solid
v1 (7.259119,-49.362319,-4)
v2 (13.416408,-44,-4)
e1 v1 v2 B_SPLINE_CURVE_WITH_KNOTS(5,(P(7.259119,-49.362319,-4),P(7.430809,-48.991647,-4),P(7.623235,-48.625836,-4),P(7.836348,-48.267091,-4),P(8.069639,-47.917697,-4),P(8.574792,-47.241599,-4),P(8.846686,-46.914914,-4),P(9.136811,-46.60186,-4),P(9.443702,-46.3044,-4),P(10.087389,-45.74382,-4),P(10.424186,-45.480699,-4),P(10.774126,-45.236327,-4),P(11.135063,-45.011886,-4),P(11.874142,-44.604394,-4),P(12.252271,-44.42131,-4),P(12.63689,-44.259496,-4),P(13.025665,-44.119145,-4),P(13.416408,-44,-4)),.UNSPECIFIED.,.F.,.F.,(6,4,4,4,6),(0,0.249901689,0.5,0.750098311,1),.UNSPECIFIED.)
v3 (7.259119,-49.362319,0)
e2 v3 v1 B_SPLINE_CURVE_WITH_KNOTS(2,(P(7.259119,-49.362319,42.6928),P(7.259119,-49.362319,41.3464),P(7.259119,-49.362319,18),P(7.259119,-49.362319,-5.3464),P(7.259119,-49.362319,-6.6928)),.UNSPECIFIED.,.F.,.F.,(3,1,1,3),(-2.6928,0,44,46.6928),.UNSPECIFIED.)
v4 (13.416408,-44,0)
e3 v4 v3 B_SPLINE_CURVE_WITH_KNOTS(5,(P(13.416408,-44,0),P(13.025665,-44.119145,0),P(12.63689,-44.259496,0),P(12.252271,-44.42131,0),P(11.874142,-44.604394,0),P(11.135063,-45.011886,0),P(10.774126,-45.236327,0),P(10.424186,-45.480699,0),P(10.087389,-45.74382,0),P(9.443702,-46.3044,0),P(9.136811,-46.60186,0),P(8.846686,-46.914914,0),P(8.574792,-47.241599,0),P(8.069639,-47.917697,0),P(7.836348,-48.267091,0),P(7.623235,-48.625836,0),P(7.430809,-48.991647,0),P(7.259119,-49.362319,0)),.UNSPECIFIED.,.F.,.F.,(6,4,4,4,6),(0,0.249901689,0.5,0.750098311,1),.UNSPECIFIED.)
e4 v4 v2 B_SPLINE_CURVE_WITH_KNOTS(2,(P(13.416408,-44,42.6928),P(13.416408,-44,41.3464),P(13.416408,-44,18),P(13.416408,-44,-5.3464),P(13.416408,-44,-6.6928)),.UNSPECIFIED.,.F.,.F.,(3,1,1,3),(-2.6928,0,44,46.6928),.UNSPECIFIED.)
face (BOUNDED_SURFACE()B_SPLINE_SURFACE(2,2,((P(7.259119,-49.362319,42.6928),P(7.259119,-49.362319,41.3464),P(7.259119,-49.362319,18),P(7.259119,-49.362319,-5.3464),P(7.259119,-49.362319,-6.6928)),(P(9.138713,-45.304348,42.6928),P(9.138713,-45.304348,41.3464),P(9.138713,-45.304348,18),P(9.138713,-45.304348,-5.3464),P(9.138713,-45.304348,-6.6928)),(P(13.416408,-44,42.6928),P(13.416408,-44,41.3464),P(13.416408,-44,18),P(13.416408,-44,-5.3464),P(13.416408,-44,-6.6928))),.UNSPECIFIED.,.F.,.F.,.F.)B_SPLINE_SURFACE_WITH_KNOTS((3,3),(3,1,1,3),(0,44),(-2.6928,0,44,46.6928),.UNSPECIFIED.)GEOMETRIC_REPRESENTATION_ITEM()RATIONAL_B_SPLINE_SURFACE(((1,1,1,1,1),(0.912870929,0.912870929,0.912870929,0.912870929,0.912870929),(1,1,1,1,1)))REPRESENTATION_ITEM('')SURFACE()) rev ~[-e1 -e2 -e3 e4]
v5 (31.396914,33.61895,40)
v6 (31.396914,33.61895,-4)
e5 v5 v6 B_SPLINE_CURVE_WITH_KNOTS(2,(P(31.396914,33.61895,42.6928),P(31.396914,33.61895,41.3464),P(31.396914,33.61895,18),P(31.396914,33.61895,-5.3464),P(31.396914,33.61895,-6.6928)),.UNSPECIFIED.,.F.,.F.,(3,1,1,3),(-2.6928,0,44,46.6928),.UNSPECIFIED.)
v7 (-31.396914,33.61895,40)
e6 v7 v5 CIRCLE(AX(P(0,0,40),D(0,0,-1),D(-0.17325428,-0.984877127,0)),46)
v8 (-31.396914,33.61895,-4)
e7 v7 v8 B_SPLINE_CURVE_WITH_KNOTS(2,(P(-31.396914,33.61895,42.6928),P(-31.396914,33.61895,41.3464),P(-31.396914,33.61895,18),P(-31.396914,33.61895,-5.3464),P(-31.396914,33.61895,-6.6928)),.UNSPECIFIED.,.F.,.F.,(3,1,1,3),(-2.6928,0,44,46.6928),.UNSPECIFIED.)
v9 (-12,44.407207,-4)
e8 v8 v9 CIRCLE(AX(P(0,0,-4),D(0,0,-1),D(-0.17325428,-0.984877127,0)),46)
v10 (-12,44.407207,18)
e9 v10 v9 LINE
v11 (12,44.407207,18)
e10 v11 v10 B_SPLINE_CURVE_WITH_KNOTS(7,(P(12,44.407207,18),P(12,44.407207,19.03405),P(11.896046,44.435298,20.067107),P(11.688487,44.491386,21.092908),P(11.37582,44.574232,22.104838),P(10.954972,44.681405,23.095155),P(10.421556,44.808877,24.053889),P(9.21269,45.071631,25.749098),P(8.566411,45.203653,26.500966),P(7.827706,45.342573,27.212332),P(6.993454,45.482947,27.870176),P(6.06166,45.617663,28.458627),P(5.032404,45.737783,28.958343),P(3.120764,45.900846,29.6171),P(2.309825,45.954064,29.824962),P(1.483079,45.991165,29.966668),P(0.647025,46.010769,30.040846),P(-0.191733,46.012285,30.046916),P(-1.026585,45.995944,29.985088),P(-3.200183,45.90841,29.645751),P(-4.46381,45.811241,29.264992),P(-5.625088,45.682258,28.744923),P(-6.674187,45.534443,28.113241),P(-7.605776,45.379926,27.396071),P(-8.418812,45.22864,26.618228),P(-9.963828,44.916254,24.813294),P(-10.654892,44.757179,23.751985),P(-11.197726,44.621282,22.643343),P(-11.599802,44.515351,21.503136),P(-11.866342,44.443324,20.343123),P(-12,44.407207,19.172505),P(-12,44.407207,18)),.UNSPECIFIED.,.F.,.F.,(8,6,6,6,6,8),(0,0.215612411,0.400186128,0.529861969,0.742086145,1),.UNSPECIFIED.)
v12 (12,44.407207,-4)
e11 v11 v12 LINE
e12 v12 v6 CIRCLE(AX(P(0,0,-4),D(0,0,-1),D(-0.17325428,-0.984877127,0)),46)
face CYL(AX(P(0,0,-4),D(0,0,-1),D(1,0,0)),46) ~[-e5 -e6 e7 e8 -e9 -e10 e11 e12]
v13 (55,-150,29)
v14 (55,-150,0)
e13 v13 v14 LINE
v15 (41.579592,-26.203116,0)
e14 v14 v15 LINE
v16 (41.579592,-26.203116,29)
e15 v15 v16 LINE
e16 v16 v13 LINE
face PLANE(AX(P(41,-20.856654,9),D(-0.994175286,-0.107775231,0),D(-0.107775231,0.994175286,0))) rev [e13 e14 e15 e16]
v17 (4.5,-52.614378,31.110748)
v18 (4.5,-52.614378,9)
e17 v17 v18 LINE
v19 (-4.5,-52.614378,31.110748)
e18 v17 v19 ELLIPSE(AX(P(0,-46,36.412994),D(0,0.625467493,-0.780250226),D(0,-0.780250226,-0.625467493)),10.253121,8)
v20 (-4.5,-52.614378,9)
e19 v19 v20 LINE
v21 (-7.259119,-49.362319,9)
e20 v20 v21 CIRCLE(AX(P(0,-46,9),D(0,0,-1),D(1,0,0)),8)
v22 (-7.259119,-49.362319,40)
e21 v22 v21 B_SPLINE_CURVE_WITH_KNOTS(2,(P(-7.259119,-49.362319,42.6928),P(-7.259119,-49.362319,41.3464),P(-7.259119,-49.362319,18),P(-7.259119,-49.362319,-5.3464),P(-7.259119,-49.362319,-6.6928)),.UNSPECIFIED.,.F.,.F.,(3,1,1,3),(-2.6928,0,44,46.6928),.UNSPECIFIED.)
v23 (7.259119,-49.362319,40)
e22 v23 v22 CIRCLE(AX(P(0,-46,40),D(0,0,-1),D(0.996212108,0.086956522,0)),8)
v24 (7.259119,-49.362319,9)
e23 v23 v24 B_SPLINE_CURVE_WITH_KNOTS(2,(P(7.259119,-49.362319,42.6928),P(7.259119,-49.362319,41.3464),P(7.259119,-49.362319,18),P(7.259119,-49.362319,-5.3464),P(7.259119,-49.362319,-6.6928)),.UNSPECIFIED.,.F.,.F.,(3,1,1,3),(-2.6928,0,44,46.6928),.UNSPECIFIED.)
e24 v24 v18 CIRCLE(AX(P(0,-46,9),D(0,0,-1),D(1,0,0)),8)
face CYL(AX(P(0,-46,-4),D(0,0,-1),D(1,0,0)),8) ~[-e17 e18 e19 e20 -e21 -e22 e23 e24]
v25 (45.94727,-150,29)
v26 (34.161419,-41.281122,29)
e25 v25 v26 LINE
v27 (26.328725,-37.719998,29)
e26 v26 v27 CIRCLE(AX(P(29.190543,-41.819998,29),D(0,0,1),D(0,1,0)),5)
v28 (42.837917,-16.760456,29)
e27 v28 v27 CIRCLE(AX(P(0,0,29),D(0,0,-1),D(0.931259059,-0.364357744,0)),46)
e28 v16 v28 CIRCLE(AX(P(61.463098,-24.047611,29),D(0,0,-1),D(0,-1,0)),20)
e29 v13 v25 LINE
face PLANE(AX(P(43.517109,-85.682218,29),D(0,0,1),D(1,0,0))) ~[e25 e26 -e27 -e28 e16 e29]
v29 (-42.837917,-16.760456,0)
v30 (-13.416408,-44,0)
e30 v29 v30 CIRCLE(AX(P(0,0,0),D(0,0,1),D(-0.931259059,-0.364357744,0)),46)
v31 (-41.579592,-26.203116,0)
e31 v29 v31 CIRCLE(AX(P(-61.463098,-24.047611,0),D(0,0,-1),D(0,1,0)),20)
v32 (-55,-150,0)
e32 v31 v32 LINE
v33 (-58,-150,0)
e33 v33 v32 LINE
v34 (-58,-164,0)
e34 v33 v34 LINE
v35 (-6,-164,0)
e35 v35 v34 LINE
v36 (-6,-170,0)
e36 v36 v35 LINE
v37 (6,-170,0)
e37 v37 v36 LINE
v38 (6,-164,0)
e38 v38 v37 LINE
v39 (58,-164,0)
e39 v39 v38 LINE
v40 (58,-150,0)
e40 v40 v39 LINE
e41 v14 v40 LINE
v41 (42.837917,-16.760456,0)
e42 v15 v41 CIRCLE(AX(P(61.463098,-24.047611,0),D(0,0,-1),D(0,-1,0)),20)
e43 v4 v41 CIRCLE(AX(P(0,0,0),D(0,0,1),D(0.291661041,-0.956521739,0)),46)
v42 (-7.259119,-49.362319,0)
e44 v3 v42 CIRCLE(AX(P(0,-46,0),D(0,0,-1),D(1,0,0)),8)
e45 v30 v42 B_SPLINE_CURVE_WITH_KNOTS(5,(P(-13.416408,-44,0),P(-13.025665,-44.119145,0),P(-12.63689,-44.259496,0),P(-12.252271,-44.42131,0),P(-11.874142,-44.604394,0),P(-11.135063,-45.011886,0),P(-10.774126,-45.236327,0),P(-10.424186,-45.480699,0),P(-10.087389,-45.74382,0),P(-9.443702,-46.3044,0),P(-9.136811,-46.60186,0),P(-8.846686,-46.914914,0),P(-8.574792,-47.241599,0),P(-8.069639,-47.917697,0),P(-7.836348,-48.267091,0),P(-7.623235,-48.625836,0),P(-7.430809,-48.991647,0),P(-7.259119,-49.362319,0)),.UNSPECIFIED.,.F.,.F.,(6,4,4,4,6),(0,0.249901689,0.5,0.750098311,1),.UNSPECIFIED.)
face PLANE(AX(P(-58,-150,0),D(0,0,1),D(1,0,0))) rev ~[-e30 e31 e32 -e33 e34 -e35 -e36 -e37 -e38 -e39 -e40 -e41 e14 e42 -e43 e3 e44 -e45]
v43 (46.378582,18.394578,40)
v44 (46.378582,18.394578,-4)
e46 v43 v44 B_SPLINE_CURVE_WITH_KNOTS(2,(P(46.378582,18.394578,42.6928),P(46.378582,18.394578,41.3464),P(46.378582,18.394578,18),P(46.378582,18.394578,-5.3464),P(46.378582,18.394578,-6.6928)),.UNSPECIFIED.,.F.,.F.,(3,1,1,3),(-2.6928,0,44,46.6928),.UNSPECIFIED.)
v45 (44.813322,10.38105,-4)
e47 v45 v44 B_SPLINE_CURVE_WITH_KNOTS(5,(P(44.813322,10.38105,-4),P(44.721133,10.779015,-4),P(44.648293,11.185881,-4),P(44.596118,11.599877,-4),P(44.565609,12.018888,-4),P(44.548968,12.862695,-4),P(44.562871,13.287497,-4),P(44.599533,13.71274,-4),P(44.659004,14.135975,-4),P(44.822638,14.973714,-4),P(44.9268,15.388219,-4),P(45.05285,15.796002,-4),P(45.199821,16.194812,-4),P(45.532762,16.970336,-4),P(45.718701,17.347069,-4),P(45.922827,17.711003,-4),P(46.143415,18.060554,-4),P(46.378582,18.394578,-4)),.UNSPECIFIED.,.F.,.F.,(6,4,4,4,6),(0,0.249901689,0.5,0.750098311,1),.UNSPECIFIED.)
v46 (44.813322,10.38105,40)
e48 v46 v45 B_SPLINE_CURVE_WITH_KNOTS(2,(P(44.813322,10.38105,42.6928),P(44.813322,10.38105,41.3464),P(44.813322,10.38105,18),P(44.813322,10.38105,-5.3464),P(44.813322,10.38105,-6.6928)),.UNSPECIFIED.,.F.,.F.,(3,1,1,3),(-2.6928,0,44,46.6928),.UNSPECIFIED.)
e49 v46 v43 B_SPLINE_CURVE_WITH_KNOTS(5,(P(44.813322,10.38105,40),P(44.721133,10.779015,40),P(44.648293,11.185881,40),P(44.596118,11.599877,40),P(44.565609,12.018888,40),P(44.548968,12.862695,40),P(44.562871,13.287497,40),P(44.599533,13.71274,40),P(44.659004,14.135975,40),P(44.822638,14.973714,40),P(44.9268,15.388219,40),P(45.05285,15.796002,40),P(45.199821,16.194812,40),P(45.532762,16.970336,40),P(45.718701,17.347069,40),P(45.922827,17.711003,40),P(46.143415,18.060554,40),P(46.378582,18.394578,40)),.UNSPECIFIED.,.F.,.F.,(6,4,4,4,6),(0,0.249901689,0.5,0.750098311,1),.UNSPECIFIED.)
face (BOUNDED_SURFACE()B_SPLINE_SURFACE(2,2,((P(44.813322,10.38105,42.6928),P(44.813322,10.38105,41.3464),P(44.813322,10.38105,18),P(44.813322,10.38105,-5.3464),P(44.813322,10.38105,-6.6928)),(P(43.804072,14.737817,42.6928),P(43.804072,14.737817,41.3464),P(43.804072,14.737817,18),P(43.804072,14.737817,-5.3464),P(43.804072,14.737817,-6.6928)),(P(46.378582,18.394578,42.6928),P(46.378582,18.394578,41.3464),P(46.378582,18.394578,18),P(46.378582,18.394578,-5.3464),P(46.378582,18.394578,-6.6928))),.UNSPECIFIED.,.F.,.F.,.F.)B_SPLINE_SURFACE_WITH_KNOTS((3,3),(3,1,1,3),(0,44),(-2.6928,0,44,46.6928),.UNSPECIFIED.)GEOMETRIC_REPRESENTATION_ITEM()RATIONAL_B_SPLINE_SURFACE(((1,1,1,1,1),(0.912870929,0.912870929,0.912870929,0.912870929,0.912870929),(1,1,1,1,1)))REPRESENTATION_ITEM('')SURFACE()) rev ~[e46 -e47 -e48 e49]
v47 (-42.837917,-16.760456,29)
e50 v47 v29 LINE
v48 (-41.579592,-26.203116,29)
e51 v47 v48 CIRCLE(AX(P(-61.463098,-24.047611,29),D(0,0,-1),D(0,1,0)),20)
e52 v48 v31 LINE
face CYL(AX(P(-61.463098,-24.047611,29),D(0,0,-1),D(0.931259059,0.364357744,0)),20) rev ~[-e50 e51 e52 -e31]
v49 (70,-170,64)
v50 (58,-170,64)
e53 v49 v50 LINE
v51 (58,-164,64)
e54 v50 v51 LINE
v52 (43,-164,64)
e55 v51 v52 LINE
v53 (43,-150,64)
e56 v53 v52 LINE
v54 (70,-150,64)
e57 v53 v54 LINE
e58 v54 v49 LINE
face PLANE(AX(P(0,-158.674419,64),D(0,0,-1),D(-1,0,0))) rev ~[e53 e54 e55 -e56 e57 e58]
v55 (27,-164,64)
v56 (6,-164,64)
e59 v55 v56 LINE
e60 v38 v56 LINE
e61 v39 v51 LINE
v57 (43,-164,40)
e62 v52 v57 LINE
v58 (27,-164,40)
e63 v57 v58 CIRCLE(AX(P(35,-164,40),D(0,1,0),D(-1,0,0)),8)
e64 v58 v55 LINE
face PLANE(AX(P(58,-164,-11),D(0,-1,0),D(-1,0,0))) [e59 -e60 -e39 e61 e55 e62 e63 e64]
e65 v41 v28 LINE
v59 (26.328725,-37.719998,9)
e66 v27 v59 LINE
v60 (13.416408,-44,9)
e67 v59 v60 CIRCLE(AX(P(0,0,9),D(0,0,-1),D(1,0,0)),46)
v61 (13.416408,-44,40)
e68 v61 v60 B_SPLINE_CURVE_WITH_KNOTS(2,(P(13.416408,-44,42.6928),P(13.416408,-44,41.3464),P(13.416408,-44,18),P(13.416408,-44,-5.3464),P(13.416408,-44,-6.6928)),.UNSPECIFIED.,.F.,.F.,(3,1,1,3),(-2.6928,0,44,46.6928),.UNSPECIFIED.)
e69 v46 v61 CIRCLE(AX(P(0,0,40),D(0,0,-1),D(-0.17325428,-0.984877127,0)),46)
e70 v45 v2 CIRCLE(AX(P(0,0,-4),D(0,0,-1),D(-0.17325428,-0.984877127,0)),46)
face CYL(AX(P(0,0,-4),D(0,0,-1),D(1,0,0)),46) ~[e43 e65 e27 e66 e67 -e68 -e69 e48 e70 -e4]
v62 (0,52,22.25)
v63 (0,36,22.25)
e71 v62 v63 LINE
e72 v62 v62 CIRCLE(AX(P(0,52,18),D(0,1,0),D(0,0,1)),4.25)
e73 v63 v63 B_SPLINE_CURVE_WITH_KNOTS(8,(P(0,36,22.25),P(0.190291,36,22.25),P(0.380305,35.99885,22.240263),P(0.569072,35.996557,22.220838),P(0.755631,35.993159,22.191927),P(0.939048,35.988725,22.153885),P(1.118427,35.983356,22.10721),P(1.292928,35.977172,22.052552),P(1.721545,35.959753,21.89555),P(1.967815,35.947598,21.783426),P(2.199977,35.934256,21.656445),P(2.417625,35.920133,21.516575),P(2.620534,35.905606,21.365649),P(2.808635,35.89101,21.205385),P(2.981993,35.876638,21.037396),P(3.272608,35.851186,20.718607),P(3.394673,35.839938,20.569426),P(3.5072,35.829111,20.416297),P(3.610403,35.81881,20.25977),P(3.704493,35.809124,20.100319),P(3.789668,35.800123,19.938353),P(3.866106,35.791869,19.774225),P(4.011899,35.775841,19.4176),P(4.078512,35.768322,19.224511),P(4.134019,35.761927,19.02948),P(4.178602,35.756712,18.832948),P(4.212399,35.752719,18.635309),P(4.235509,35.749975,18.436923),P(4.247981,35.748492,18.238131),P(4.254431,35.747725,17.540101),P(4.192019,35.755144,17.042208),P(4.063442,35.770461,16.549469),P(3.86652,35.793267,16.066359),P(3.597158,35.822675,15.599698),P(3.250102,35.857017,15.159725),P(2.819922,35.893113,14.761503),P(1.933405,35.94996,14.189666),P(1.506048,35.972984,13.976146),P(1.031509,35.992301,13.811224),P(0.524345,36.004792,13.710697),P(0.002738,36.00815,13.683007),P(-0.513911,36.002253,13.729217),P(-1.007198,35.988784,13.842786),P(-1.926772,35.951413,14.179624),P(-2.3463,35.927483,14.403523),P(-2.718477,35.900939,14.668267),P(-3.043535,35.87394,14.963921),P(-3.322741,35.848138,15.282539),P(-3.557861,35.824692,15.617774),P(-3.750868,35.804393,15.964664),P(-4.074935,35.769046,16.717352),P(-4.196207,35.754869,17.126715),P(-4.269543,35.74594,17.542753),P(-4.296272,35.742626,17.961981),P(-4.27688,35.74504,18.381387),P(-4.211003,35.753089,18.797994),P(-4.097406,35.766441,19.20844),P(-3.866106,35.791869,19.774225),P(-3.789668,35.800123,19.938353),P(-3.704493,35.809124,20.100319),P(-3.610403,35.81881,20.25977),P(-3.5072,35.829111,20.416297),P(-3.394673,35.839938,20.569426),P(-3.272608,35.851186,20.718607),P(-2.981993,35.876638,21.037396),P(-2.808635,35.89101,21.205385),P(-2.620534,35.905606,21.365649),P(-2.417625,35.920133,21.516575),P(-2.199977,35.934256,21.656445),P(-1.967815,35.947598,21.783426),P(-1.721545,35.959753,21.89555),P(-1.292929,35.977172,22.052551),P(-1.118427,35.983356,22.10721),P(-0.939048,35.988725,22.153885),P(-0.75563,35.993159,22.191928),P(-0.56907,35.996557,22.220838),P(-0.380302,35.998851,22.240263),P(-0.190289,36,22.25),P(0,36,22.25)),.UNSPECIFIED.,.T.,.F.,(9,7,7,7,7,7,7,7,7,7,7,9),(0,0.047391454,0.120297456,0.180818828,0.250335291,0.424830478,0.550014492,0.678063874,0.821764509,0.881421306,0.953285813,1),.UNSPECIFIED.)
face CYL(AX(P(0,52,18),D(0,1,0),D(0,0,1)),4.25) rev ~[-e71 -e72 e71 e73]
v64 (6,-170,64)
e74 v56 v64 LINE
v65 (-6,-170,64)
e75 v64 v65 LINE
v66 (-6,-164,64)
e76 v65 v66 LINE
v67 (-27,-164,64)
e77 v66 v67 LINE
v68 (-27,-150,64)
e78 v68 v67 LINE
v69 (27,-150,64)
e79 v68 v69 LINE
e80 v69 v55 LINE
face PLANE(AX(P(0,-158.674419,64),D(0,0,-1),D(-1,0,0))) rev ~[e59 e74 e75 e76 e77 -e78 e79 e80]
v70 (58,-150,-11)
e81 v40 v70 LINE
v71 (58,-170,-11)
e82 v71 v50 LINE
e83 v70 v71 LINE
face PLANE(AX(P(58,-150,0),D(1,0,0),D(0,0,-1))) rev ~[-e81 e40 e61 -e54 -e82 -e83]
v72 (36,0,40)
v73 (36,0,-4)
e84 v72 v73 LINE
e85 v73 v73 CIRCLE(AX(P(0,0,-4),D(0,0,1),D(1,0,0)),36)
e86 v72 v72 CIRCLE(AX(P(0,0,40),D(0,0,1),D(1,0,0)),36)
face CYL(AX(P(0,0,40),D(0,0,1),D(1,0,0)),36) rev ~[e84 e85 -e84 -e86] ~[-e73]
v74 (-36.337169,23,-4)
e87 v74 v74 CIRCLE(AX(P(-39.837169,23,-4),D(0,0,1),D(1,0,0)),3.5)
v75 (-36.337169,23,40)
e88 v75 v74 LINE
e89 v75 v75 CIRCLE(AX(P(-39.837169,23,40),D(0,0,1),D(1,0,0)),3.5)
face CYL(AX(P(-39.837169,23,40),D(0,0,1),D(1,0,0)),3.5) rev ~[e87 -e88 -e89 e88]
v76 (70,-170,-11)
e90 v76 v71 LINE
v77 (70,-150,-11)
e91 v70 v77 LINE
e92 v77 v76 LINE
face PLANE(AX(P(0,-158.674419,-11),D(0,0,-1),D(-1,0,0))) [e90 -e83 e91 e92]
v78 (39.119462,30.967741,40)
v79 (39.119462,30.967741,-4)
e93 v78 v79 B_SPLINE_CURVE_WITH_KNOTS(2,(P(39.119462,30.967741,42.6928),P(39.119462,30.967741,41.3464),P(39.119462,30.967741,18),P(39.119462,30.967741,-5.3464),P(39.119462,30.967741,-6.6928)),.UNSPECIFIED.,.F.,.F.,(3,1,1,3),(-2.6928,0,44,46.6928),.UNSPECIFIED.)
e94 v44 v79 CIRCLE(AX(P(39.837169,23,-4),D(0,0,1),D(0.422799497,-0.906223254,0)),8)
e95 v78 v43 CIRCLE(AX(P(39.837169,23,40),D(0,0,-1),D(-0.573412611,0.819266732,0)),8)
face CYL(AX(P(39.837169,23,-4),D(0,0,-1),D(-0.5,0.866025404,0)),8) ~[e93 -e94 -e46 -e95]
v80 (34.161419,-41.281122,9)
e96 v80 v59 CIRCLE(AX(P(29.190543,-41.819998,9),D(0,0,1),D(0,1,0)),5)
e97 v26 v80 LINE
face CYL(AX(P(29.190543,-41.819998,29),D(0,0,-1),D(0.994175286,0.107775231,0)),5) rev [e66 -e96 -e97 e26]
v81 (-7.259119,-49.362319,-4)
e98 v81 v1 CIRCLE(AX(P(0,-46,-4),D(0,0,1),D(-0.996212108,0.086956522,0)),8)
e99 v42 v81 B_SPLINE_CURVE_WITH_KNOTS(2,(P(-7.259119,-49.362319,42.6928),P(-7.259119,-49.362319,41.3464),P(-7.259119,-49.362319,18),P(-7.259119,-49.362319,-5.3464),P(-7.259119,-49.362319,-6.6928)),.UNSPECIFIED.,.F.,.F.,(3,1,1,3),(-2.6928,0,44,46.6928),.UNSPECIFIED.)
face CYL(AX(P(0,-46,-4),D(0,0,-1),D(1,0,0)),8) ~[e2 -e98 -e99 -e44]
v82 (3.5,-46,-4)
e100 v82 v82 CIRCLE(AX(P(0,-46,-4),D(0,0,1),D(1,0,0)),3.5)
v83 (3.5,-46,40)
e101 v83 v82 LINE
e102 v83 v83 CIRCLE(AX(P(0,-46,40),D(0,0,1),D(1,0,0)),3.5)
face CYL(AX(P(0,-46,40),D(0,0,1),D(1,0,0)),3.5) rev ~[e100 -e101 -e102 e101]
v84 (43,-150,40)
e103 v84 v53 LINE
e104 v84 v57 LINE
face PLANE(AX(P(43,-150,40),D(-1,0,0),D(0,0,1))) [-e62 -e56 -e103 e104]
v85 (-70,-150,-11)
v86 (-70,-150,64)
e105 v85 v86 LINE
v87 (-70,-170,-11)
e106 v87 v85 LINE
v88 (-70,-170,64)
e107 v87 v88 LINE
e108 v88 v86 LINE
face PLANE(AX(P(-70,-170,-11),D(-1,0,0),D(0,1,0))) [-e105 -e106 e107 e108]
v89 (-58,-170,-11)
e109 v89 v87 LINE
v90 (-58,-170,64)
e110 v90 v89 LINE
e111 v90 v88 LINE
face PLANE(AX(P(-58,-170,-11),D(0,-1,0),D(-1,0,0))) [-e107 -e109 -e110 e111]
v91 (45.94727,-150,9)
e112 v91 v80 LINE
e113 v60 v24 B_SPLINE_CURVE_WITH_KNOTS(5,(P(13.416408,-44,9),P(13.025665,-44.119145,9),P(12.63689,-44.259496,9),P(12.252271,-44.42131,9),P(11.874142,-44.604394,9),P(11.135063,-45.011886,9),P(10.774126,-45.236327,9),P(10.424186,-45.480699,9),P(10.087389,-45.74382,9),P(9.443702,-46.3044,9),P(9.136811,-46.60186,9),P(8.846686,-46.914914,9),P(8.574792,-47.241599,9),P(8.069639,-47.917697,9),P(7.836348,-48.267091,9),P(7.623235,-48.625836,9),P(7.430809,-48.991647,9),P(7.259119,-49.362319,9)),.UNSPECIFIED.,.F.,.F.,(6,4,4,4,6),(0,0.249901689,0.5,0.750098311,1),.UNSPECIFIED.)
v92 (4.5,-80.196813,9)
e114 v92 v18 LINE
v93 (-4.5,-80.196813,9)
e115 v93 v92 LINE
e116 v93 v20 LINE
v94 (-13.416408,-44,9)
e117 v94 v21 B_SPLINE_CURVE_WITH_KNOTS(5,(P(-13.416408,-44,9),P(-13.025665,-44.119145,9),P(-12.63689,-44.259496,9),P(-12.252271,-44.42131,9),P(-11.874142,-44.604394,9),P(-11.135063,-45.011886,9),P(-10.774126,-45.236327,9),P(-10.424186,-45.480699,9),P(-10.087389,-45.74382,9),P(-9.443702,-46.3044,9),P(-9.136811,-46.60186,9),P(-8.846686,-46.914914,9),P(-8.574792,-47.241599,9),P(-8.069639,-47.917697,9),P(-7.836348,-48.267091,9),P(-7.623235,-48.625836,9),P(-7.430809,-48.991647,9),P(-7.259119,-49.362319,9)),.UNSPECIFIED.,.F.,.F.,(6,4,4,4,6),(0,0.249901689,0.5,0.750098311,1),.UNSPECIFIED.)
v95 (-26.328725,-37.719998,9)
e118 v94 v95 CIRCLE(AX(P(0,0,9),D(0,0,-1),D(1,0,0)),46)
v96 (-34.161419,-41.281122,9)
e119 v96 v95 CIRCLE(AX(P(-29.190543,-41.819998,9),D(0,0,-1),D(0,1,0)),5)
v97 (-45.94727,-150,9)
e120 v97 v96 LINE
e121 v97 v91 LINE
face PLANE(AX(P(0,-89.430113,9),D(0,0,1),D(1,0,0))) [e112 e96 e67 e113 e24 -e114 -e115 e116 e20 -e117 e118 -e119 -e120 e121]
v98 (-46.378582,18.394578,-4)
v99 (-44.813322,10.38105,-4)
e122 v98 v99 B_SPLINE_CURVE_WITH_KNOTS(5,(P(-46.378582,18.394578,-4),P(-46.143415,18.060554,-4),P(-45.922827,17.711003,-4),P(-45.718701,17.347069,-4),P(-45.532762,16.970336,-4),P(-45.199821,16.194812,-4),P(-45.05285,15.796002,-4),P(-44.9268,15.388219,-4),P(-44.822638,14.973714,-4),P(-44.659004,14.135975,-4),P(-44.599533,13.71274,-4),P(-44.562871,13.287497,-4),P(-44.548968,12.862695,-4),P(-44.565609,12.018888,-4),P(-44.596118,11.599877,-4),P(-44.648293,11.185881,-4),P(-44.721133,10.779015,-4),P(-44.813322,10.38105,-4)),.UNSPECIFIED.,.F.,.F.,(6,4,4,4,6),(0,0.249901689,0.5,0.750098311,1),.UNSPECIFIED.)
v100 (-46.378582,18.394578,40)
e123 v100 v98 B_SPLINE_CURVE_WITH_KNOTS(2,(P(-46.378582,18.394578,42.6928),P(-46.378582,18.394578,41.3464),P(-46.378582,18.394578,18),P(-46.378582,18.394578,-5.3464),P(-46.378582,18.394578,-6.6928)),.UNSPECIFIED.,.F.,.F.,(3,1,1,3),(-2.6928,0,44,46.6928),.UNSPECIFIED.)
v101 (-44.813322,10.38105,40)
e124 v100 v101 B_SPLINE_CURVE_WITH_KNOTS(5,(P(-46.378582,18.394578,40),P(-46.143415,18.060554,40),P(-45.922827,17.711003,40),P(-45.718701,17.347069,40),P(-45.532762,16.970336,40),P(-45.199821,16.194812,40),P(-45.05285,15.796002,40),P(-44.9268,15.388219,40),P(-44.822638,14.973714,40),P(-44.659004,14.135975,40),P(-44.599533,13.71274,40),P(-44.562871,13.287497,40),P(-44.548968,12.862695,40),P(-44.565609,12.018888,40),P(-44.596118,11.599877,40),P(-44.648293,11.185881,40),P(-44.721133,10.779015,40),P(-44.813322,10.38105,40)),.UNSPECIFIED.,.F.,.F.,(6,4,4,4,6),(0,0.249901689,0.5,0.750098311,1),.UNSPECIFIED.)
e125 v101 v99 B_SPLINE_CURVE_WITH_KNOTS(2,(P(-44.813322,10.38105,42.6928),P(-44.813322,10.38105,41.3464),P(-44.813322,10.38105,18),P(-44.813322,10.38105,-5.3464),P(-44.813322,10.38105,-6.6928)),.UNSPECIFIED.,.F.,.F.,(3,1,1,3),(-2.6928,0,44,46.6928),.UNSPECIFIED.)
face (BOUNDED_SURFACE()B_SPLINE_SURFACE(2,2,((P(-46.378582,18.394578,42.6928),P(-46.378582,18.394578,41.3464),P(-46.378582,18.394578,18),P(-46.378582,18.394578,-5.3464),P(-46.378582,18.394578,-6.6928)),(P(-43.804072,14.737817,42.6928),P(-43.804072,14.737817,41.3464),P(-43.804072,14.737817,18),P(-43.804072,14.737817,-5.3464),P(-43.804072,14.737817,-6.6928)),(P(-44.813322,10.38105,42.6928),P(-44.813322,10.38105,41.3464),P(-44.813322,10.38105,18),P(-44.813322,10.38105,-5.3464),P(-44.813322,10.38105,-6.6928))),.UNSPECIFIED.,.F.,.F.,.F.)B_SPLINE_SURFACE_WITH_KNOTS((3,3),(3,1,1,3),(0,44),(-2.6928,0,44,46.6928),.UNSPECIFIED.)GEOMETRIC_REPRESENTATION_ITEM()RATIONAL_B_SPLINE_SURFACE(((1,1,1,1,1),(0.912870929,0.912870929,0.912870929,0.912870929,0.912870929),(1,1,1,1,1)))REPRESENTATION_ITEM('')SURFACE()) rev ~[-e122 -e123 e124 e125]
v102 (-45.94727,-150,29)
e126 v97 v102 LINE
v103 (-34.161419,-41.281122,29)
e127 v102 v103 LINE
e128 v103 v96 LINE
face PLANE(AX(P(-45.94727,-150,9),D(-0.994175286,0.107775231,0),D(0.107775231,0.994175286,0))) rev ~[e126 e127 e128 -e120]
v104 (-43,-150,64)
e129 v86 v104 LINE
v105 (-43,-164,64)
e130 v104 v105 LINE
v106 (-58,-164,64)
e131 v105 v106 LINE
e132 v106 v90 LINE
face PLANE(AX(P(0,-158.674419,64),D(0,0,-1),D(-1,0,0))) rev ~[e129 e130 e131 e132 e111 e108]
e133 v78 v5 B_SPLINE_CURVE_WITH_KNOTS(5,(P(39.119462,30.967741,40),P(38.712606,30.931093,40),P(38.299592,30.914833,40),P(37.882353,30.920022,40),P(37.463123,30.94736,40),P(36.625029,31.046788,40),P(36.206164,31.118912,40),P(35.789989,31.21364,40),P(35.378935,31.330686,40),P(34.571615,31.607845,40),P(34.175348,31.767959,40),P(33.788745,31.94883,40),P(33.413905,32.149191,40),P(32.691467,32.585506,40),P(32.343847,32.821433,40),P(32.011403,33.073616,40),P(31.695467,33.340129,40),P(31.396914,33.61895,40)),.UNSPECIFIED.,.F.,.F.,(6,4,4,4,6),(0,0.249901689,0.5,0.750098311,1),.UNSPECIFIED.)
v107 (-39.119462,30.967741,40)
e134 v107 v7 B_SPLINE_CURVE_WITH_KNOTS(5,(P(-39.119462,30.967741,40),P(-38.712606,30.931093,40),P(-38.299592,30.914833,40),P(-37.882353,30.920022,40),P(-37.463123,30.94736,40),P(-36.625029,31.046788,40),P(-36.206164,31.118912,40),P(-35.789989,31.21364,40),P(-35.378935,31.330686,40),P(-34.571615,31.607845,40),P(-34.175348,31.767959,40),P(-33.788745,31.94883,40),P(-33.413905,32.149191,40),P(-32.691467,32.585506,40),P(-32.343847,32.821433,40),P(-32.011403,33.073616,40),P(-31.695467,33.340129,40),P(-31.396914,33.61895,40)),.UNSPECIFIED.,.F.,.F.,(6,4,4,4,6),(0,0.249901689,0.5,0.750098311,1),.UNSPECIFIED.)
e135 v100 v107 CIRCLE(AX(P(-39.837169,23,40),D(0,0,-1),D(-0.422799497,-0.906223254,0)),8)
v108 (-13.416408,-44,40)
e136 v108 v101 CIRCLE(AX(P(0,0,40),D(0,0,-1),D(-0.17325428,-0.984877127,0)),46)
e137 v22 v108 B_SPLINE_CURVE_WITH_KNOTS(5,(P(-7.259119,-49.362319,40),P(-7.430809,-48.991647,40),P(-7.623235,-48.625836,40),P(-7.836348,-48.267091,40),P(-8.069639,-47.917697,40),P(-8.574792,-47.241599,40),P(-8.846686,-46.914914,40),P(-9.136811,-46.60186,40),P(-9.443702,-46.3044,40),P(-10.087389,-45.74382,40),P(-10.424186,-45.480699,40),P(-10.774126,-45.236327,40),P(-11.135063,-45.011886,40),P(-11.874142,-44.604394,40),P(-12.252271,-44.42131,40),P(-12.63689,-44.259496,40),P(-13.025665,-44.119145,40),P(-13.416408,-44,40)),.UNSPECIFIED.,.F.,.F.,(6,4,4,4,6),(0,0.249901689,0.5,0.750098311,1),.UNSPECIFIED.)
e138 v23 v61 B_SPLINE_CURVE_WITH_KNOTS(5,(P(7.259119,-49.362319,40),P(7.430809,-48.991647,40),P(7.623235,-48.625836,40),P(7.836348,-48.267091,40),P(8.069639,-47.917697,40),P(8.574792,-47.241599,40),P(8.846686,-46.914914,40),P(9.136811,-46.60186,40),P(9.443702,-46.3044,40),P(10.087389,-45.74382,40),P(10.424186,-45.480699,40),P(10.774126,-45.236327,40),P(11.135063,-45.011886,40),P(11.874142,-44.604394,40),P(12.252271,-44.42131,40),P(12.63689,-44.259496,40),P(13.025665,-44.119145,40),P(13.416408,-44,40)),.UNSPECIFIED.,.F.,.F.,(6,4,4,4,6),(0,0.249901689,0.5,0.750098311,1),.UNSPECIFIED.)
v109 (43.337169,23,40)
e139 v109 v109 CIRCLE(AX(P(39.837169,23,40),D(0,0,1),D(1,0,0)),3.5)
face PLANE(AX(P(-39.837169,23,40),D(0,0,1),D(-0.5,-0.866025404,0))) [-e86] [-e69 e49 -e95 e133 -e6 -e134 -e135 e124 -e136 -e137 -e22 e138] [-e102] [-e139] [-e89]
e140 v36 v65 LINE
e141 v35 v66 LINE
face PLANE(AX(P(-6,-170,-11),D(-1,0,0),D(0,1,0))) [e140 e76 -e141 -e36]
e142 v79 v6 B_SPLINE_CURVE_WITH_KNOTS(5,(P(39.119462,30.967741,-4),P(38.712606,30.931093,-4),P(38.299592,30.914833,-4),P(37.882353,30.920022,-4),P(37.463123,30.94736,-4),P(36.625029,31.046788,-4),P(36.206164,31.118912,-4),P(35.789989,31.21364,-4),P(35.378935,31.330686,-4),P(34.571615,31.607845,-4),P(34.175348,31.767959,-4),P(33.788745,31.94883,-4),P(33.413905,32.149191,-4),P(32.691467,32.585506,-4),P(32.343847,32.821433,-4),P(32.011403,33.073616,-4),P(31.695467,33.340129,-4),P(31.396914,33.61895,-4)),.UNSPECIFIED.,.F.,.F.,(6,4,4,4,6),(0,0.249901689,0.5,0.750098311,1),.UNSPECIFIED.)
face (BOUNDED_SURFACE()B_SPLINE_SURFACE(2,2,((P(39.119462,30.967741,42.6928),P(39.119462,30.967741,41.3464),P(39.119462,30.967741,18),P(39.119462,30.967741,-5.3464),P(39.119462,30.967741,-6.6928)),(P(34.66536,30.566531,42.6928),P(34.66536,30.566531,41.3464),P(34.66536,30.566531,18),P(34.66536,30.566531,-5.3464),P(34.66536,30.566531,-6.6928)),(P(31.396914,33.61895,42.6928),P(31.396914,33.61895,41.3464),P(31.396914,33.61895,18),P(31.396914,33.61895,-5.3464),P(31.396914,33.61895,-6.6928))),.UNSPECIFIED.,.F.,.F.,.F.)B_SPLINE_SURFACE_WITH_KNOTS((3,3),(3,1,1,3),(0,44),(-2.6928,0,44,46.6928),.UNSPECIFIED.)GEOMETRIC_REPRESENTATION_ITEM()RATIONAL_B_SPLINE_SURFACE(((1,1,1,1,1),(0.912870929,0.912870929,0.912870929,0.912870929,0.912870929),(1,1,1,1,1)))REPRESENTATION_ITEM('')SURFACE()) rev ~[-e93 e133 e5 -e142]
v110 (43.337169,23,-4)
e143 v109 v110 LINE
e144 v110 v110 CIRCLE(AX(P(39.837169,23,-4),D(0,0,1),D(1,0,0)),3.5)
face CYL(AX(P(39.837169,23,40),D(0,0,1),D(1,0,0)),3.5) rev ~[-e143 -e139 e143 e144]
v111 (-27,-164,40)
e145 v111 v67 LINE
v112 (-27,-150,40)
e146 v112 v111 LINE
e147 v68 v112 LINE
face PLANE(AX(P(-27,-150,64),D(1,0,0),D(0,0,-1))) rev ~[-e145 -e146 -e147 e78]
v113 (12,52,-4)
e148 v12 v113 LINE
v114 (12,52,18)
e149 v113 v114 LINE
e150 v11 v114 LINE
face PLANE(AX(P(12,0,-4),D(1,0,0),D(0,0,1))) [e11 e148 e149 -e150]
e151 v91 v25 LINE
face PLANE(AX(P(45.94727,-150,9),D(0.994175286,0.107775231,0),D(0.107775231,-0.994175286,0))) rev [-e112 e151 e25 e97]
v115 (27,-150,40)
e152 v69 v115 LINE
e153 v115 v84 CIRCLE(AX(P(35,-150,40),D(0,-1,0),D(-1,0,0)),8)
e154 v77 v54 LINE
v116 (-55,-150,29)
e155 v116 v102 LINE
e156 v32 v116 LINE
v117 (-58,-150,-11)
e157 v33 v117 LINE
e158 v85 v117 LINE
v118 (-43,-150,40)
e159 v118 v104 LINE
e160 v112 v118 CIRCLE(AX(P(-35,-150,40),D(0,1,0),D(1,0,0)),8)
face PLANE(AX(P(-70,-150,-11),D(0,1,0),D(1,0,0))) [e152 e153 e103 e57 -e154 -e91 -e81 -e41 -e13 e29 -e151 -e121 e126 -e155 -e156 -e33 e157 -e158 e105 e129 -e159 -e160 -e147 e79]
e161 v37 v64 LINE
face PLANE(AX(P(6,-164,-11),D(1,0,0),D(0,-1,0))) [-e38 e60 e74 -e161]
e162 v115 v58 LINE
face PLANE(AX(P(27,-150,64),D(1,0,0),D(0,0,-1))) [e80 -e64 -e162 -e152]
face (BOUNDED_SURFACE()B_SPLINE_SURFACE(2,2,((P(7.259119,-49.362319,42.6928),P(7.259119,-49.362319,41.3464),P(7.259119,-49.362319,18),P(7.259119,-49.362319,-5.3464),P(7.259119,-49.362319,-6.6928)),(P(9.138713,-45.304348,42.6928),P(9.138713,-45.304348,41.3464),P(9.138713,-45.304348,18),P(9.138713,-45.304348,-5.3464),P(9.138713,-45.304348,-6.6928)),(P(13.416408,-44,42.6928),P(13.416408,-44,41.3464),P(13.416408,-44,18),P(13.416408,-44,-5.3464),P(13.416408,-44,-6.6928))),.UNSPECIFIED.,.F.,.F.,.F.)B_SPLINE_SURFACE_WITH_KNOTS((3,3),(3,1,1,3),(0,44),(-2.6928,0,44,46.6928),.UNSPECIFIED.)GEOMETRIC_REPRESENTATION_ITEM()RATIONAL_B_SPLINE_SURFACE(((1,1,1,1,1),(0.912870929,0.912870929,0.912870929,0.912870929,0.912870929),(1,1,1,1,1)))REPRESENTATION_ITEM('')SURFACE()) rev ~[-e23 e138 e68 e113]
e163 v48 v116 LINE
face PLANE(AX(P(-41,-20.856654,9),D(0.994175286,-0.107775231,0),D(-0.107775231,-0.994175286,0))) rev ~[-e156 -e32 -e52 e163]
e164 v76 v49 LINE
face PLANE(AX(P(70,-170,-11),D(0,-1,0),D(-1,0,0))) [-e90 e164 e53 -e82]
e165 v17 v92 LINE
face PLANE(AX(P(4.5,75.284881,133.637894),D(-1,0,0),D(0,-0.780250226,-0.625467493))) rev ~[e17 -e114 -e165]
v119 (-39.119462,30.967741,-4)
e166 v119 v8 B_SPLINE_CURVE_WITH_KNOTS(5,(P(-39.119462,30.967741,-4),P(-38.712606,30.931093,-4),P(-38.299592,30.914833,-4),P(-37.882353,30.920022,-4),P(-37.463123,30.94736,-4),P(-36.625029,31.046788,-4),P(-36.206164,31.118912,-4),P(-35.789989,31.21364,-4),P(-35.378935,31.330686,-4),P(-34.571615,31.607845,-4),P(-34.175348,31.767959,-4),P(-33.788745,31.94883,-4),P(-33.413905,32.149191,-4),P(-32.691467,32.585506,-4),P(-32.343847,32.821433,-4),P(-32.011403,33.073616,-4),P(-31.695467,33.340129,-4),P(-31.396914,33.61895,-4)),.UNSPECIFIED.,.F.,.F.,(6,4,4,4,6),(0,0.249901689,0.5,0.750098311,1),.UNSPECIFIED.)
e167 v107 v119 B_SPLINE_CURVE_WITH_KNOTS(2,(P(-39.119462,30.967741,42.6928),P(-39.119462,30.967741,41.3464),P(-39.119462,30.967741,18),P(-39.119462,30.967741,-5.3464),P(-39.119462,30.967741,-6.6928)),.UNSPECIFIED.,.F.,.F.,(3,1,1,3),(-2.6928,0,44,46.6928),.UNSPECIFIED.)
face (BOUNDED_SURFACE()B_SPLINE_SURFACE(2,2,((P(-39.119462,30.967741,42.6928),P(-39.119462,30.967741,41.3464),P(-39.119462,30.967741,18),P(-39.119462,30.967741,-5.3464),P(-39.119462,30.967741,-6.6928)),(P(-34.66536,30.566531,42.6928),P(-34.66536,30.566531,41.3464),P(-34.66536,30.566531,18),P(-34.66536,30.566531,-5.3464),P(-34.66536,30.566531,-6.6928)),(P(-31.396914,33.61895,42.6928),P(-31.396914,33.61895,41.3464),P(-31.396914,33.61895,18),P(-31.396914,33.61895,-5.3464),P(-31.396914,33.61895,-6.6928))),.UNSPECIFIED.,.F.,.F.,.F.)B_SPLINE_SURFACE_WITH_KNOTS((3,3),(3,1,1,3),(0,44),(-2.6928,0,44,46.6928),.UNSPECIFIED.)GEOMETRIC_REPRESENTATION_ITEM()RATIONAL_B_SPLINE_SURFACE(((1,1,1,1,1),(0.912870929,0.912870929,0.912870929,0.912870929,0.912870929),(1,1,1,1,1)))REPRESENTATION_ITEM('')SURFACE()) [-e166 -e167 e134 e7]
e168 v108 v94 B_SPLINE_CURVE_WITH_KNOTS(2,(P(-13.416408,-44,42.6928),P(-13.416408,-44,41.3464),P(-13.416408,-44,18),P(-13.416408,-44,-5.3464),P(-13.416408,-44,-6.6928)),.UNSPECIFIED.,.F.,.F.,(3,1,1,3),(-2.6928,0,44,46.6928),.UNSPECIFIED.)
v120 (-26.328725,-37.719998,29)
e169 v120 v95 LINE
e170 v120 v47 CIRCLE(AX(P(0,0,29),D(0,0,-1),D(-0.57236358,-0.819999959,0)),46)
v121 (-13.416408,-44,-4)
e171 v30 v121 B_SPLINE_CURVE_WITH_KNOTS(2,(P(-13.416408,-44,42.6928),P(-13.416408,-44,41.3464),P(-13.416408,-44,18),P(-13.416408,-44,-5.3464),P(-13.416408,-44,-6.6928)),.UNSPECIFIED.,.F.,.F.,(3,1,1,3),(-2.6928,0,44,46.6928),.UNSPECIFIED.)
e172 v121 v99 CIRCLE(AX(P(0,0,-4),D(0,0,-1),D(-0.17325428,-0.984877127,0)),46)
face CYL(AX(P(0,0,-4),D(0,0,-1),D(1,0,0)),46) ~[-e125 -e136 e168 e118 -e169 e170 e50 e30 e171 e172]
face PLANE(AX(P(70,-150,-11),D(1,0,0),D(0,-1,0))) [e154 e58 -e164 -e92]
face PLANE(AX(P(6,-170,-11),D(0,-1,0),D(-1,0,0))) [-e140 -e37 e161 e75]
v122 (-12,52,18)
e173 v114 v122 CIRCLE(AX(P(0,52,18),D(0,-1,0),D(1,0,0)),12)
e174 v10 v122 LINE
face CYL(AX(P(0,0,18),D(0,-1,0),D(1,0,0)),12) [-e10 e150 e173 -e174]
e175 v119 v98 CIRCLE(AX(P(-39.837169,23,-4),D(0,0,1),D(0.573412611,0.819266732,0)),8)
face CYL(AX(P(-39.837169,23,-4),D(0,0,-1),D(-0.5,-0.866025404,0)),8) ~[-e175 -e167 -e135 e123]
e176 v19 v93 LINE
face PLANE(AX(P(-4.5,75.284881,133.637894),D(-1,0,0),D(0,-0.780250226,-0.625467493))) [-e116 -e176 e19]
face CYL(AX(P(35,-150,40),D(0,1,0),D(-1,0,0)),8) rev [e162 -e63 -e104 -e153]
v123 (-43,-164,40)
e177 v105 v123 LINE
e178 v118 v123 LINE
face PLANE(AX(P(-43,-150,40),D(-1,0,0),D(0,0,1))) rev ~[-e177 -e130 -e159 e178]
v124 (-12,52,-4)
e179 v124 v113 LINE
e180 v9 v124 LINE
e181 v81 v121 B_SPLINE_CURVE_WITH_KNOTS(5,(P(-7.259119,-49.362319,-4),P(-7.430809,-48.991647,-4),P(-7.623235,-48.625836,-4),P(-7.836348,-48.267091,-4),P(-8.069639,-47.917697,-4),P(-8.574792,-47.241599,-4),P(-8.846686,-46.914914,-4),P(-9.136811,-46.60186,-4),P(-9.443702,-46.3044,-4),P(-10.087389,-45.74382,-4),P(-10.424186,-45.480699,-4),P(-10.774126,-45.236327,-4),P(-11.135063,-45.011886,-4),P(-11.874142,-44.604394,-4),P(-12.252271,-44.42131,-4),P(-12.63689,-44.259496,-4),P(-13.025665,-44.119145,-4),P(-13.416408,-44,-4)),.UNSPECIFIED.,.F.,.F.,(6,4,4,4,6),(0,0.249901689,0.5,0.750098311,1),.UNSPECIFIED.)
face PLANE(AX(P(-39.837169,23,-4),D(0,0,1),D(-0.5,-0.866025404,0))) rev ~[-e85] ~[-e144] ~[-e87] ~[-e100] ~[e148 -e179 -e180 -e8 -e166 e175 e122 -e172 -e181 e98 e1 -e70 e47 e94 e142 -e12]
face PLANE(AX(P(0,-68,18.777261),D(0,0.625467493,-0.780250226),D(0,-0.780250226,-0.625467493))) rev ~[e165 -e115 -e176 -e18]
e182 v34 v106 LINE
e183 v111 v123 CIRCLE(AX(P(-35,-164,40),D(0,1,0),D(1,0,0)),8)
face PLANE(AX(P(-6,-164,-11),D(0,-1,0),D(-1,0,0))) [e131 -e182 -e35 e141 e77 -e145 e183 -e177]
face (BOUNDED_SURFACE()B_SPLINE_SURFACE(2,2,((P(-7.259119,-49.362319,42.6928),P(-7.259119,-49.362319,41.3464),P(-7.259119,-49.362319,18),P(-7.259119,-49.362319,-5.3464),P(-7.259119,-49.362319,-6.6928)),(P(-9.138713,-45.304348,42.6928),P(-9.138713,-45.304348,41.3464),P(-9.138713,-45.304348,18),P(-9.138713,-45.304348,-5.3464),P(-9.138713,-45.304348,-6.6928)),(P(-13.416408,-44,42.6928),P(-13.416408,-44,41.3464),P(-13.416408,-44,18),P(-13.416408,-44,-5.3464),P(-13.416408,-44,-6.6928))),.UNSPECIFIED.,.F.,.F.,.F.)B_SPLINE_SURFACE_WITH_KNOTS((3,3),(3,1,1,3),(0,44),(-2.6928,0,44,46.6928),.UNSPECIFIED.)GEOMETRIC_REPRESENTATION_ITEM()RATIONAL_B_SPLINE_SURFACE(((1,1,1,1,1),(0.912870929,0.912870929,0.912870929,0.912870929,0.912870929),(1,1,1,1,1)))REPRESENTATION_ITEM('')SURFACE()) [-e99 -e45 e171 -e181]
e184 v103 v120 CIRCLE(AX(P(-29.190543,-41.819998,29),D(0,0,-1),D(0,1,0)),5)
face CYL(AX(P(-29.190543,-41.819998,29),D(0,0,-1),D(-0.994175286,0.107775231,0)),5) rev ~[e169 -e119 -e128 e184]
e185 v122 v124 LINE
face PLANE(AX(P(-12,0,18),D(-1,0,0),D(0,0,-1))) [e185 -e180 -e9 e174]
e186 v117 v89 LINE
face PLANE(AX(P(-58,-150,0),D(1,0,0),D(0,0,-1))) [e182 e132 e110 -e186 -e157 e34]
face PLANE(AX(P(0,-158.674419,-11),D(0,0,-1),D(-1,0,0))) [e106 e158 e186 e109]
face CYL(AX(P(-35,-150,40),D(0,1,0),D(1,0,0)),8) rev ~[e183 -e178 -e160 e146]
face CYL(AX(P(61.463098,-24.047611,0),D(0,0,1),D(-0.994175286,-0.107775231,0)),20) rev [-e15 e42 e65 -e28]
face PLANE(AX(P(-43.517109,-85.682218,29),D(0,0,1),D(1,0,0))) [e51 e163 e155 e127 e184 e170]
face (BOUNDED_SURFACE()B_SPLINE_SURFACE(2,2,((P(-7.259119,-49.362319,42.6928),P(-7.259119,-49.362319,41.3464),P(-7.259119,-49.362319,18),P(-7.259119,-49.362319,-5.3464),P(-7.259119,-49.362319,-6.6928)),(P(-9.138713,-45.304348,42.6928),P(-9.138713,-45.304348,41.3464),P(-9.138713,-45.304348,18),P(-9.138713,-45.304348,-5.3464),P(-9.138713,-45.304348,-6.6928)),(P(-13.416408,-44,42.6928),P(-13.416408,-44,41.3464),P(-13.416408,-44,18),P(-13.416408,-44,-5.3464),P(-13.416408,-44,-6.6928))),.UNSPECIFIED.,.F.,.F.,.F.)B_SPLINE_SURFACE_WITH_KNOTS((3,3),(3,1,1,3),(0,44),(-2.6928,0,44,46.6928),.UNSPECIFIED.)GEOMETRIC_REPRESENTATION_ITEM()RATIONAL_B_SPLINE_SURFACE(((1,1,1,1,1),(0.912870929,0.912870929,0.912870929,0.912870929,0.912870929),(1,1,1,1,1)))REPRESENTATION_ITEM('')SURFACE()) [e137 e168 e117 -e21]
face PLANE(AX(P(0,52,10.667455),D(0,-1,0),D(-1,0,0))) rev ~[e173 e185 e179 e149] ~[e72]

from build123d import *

# Parameters (mm, degrees)
EXTRUDE_1_DEPTH                  = 40
EXTRUDE_1_DEPTH_BACK             = 4
SKETCH_1_R                       = 46
EXTRUDE_START                    = -4
SKETCH_2_R                       = 8
EXTRUDE_2_DEPTH                  = 44
FILLET_1_R                       = 10
PATTERN_CIRCULAR_1_COUNT         = 3
FILLET_1_OF_PATTERN_CIRCULAR_1_R = 10
EXTRUDE_3_DEPTH                  = 52
EXTRUDE_4_DEPTH                  = 9
EXTRUDE_5_DEPTH                  = 20
FILLET_2_R                       = 20
FILLET_3_R                       = 5
RIB_1_REACH                      = 166.697
SKETCH_6_WALL_W                  = 367.279305732
SKETCH_6_WALL_H                  = 9
EXTRUDE_6_DEPTH                  = 64
EXTRUDE_6_DEPTH_BACK             = 11
SKETCH_8_W                       = 116
SKETCH_8_H                       = 11
CUT_EXTRUDE_1_DEPTH              = 64
SKETCH_9_R                       = 36
SKETCH_9_R_2                     = 3.5
CUT_EXTRUDE_2_DEPTH              = 64
HOLE_WIZARD_M10_1_REACH          = 239.276
HOLE_WIZARD_M10_1_BORE_R         = 4.25


with BuildPart() as part:
    # 草图1 → 凸台-拉伸1 (new, two sides: drawn at the far end of the back side and taken through both)
    with BuildSketch(Plane.XY.offset(-EXTRUDE_1_DEPTH_BACK)):
        Circle(SKETCH_1_R)
    extrude(amount=EXTRUDE_1_DEPTH + EXTRUDE_1_DEPTH_BACK)

    # 草图2 → 凸台-拉伸2 (add)
    with BuildSketch(Plane.XY.offset(EXTRUDE_START)):
        with Locations((0, -46)):
            Circle(SKETCH_2_R)
    extrude_2 = extrude(amount=EXTRUDE_2_DEPTH)

    # 圆角1
    fillet_1_edges = [part.edges().sort_by_distance(p)[0] for p in [
        (7.969696861, -45.304347826, 18),
        (-7.969696861, -45.304347826, 18),
    ]]
    fillet(fillet_1_edges, radius=FILLET_1_R)

    # 阵列(圆周)1: 凸台-拉伸2 ×3 about axis
    pattern_circular_1_axis = Axis((0, 0, 0), (0, 0, 1))
    for i in range(1, PATTERN_CIRCULAR_1_COUNT):
        add(extrude_2.rotate(pattern_circular_1_axis, i * 360 / PATTERN_CIRCULAR_1_COUNT))

    # 圆角1 of 阵列(圆周)1
    fillet_1_of_pattern_circular_1_edges = [part.edges().sort_by_distance(p)[0] for p in [
        (35.249867689, 29.554133855, 18),
        (43.21956455, 15.750213971, 18),
        (-43.21956455, 15.750213971, 18),
        (-35.249867689, 29.554133855, 18),
    ]]
    fillet(fillet_1_of_pattern_circular_1_edges, radius=FILLET_1_OF_PATTERN_CIRCULAR_1_R)

    # 草图3 → 凸台-拉伸3 (add)
    with BuildSketch(Plane(origin=(0, 0, 0), x_dir=(1, 0, 0), z_dir=(0, 1, 0))):
        with BuildLine():
            Line((-12, 4), (12, 4))
            Line((12, 4), (12, -18))
            ThreePointArc((12, -18), (0, -30), (-12, -18))
            Line((-12, -18), (-12, 4))
        make_face()
    extrude(amount=EXTRUDE_3_DEPTH)

    # 草图4 → 凸台-拉伸4 (add)
    with BuildSketch(Plane.XY):
        Polygon((-55, -150), (55, -150), (41, -20.856653615), (-41, -20.856653615), align=None)
    extrude(amount=EXTRUDE_4_DEPTH)

    # 草图5 → 凸台-拉伸5 (add)
    with BuildSketch(Plane.XY.offset(9)):
        Polygon((-41, -20.856653615), (-55, -150), (-45.947270441, -150), (-32.052422425, -21.826630695), align=None)
    extrude_5 = extrude(amount=EXTRUDE_5_DEPTH)

    # 镜向1: 凸台-拉伸5 across plane
    add(extrude_5.mirror(Plane(origin=(0, 0, 0), x_dir=(0, 0, 1), z_dir=(1, 0, 0))))

    # 圆角2
    fillet_2_edges = [part.edges().sort_by_distance(p)[0] for p in [
        (41, -20.856653615, 14.5),
        (-41, -20.856653615, 14.5),
    ]]
    fillet(fillet_2_edges, radius=FILLET_2_R)

    # 圆角3
    fillet_3_edges = [part.edges().sort_by_distance(p)[0] for p in [
        (-33.144192236, -31.897688333, 19),
        (33.144192236, -31.897688333, 19),
    ]]
    fillet(fillet_3_edges, radius=FILLET_3_R)

    # 草图6 wall → 筋1 (add, up to next)
    with BuildSketch(Plane(origin=(0, -68, 18.777260671), x_dir=(0, -0.780250226157, -0.625467492826), z_dir=(0, 0.625467492826, -0.780250226157)), mode=Mode.PRIVATE) as rib_1_sk1:
        Rectangle(SKETCH_6_WALL_W, SKETCH_6_WALL_H)
    rib_1_tool1 = extrude(rib_1_sk1.sketch, amount=RIB_1_REACH, mode=Mode.PRIVATE) - part.part
    add(rib_1_tool1.solids().sort_by_distance((0, -68, 18.777260671))[0])

    # 草图7 → 凸台-拉伸6 (add, two sides: drawn at the far end of the back side and taken through both)
    with BuildSketch(Plane.XY.offset(-EXTRUDE_6_DEPTH_BACK)):
        Polygon((-70, -150), (70, -150), (70, -170), (58, -170), (58, -164), (6, -164), (6, -170), (-6, -170), (-6, -164), (-58, -164), (-58, -170), (-70, -170), align=None)
    extrude(amount=EXTRUDE_6_DEPTH + EXTRUDE_6_DEPTH_BACK)

    # 草图8 → 切除-拉伸1 (cut)
    with BuildSketch(Plane(origin=(0, -150, 0), x_dir=(1, 0, 0), z_dir=(0, 1, 0))):
        with Locations((0, 5.5)):
            Rectangle(SKETCH_8_W, SKETCH_8_H)
        with BuildLine():
            Line((-43, -40), (-43, -64))
            Line((-43, -64), (-27, -64))
            Line((-27, -64), (-27, -40))
            ThreePointArc((-27, -40), (-35, -32), (-43, -40))
        make_face()
        with BuildLine():
            Line((43, -40), (43, -64))
            Line((43, -64), (27, -64))
            Line((27, -64), (27, -40))
            ThreePointArc((27, -40), (35, -32), (43, -40))
        make_face()
    extrude(amount=-CUT_EXTRUDE_1_DEPTH, mode=Mode.SUBTRACT)

    # 草图9 → 切除-拉伸2 (cut)
    with BuildSketch(Plane.XY.offset(40)):
        Circle(SKETCH_9_R)
        with Locations((-39.837168574, 23)):
            Circle(SKETCH_9_R_2)
        with Locations((39.837168574, 23)):
            Circle(SKETCH_9_R_2)
        with Locations((0, -46)):
            Circle(SKETCH_9_R_2)
    extrude(amount=-CUT_EXTRUDE_2_DEPTH, mode=Mode.SUBTRACT)

    # M10 螺纹孔1 bore (on position points) → M10 螺纹孔1 (cut, up to next)
    with BuildSketch(Plane(origin=(0, 52, 18), x_dir=(0, 0, 1), z_dir=(0, 1, 0)), mode=Mode.PRIVATE) as hole_wizard_m10_1_sk1:
        Circle(HOLE_WIZARD_M10_1_BORE_R)
    hole_wizard_m10_1_tool1 = extrude(hole_wizard_m10_1_sk1.sketch, amount=-HOLE_WIZARD_M10_1_REACH, mode=Mode.PRIVATE) & part.part
    add(hole_wizard_m10_1_tool1.solids().sort_by_distance((0, 52, 18))[0], mode=Mode.SUBTRACT)


solid = part.part
